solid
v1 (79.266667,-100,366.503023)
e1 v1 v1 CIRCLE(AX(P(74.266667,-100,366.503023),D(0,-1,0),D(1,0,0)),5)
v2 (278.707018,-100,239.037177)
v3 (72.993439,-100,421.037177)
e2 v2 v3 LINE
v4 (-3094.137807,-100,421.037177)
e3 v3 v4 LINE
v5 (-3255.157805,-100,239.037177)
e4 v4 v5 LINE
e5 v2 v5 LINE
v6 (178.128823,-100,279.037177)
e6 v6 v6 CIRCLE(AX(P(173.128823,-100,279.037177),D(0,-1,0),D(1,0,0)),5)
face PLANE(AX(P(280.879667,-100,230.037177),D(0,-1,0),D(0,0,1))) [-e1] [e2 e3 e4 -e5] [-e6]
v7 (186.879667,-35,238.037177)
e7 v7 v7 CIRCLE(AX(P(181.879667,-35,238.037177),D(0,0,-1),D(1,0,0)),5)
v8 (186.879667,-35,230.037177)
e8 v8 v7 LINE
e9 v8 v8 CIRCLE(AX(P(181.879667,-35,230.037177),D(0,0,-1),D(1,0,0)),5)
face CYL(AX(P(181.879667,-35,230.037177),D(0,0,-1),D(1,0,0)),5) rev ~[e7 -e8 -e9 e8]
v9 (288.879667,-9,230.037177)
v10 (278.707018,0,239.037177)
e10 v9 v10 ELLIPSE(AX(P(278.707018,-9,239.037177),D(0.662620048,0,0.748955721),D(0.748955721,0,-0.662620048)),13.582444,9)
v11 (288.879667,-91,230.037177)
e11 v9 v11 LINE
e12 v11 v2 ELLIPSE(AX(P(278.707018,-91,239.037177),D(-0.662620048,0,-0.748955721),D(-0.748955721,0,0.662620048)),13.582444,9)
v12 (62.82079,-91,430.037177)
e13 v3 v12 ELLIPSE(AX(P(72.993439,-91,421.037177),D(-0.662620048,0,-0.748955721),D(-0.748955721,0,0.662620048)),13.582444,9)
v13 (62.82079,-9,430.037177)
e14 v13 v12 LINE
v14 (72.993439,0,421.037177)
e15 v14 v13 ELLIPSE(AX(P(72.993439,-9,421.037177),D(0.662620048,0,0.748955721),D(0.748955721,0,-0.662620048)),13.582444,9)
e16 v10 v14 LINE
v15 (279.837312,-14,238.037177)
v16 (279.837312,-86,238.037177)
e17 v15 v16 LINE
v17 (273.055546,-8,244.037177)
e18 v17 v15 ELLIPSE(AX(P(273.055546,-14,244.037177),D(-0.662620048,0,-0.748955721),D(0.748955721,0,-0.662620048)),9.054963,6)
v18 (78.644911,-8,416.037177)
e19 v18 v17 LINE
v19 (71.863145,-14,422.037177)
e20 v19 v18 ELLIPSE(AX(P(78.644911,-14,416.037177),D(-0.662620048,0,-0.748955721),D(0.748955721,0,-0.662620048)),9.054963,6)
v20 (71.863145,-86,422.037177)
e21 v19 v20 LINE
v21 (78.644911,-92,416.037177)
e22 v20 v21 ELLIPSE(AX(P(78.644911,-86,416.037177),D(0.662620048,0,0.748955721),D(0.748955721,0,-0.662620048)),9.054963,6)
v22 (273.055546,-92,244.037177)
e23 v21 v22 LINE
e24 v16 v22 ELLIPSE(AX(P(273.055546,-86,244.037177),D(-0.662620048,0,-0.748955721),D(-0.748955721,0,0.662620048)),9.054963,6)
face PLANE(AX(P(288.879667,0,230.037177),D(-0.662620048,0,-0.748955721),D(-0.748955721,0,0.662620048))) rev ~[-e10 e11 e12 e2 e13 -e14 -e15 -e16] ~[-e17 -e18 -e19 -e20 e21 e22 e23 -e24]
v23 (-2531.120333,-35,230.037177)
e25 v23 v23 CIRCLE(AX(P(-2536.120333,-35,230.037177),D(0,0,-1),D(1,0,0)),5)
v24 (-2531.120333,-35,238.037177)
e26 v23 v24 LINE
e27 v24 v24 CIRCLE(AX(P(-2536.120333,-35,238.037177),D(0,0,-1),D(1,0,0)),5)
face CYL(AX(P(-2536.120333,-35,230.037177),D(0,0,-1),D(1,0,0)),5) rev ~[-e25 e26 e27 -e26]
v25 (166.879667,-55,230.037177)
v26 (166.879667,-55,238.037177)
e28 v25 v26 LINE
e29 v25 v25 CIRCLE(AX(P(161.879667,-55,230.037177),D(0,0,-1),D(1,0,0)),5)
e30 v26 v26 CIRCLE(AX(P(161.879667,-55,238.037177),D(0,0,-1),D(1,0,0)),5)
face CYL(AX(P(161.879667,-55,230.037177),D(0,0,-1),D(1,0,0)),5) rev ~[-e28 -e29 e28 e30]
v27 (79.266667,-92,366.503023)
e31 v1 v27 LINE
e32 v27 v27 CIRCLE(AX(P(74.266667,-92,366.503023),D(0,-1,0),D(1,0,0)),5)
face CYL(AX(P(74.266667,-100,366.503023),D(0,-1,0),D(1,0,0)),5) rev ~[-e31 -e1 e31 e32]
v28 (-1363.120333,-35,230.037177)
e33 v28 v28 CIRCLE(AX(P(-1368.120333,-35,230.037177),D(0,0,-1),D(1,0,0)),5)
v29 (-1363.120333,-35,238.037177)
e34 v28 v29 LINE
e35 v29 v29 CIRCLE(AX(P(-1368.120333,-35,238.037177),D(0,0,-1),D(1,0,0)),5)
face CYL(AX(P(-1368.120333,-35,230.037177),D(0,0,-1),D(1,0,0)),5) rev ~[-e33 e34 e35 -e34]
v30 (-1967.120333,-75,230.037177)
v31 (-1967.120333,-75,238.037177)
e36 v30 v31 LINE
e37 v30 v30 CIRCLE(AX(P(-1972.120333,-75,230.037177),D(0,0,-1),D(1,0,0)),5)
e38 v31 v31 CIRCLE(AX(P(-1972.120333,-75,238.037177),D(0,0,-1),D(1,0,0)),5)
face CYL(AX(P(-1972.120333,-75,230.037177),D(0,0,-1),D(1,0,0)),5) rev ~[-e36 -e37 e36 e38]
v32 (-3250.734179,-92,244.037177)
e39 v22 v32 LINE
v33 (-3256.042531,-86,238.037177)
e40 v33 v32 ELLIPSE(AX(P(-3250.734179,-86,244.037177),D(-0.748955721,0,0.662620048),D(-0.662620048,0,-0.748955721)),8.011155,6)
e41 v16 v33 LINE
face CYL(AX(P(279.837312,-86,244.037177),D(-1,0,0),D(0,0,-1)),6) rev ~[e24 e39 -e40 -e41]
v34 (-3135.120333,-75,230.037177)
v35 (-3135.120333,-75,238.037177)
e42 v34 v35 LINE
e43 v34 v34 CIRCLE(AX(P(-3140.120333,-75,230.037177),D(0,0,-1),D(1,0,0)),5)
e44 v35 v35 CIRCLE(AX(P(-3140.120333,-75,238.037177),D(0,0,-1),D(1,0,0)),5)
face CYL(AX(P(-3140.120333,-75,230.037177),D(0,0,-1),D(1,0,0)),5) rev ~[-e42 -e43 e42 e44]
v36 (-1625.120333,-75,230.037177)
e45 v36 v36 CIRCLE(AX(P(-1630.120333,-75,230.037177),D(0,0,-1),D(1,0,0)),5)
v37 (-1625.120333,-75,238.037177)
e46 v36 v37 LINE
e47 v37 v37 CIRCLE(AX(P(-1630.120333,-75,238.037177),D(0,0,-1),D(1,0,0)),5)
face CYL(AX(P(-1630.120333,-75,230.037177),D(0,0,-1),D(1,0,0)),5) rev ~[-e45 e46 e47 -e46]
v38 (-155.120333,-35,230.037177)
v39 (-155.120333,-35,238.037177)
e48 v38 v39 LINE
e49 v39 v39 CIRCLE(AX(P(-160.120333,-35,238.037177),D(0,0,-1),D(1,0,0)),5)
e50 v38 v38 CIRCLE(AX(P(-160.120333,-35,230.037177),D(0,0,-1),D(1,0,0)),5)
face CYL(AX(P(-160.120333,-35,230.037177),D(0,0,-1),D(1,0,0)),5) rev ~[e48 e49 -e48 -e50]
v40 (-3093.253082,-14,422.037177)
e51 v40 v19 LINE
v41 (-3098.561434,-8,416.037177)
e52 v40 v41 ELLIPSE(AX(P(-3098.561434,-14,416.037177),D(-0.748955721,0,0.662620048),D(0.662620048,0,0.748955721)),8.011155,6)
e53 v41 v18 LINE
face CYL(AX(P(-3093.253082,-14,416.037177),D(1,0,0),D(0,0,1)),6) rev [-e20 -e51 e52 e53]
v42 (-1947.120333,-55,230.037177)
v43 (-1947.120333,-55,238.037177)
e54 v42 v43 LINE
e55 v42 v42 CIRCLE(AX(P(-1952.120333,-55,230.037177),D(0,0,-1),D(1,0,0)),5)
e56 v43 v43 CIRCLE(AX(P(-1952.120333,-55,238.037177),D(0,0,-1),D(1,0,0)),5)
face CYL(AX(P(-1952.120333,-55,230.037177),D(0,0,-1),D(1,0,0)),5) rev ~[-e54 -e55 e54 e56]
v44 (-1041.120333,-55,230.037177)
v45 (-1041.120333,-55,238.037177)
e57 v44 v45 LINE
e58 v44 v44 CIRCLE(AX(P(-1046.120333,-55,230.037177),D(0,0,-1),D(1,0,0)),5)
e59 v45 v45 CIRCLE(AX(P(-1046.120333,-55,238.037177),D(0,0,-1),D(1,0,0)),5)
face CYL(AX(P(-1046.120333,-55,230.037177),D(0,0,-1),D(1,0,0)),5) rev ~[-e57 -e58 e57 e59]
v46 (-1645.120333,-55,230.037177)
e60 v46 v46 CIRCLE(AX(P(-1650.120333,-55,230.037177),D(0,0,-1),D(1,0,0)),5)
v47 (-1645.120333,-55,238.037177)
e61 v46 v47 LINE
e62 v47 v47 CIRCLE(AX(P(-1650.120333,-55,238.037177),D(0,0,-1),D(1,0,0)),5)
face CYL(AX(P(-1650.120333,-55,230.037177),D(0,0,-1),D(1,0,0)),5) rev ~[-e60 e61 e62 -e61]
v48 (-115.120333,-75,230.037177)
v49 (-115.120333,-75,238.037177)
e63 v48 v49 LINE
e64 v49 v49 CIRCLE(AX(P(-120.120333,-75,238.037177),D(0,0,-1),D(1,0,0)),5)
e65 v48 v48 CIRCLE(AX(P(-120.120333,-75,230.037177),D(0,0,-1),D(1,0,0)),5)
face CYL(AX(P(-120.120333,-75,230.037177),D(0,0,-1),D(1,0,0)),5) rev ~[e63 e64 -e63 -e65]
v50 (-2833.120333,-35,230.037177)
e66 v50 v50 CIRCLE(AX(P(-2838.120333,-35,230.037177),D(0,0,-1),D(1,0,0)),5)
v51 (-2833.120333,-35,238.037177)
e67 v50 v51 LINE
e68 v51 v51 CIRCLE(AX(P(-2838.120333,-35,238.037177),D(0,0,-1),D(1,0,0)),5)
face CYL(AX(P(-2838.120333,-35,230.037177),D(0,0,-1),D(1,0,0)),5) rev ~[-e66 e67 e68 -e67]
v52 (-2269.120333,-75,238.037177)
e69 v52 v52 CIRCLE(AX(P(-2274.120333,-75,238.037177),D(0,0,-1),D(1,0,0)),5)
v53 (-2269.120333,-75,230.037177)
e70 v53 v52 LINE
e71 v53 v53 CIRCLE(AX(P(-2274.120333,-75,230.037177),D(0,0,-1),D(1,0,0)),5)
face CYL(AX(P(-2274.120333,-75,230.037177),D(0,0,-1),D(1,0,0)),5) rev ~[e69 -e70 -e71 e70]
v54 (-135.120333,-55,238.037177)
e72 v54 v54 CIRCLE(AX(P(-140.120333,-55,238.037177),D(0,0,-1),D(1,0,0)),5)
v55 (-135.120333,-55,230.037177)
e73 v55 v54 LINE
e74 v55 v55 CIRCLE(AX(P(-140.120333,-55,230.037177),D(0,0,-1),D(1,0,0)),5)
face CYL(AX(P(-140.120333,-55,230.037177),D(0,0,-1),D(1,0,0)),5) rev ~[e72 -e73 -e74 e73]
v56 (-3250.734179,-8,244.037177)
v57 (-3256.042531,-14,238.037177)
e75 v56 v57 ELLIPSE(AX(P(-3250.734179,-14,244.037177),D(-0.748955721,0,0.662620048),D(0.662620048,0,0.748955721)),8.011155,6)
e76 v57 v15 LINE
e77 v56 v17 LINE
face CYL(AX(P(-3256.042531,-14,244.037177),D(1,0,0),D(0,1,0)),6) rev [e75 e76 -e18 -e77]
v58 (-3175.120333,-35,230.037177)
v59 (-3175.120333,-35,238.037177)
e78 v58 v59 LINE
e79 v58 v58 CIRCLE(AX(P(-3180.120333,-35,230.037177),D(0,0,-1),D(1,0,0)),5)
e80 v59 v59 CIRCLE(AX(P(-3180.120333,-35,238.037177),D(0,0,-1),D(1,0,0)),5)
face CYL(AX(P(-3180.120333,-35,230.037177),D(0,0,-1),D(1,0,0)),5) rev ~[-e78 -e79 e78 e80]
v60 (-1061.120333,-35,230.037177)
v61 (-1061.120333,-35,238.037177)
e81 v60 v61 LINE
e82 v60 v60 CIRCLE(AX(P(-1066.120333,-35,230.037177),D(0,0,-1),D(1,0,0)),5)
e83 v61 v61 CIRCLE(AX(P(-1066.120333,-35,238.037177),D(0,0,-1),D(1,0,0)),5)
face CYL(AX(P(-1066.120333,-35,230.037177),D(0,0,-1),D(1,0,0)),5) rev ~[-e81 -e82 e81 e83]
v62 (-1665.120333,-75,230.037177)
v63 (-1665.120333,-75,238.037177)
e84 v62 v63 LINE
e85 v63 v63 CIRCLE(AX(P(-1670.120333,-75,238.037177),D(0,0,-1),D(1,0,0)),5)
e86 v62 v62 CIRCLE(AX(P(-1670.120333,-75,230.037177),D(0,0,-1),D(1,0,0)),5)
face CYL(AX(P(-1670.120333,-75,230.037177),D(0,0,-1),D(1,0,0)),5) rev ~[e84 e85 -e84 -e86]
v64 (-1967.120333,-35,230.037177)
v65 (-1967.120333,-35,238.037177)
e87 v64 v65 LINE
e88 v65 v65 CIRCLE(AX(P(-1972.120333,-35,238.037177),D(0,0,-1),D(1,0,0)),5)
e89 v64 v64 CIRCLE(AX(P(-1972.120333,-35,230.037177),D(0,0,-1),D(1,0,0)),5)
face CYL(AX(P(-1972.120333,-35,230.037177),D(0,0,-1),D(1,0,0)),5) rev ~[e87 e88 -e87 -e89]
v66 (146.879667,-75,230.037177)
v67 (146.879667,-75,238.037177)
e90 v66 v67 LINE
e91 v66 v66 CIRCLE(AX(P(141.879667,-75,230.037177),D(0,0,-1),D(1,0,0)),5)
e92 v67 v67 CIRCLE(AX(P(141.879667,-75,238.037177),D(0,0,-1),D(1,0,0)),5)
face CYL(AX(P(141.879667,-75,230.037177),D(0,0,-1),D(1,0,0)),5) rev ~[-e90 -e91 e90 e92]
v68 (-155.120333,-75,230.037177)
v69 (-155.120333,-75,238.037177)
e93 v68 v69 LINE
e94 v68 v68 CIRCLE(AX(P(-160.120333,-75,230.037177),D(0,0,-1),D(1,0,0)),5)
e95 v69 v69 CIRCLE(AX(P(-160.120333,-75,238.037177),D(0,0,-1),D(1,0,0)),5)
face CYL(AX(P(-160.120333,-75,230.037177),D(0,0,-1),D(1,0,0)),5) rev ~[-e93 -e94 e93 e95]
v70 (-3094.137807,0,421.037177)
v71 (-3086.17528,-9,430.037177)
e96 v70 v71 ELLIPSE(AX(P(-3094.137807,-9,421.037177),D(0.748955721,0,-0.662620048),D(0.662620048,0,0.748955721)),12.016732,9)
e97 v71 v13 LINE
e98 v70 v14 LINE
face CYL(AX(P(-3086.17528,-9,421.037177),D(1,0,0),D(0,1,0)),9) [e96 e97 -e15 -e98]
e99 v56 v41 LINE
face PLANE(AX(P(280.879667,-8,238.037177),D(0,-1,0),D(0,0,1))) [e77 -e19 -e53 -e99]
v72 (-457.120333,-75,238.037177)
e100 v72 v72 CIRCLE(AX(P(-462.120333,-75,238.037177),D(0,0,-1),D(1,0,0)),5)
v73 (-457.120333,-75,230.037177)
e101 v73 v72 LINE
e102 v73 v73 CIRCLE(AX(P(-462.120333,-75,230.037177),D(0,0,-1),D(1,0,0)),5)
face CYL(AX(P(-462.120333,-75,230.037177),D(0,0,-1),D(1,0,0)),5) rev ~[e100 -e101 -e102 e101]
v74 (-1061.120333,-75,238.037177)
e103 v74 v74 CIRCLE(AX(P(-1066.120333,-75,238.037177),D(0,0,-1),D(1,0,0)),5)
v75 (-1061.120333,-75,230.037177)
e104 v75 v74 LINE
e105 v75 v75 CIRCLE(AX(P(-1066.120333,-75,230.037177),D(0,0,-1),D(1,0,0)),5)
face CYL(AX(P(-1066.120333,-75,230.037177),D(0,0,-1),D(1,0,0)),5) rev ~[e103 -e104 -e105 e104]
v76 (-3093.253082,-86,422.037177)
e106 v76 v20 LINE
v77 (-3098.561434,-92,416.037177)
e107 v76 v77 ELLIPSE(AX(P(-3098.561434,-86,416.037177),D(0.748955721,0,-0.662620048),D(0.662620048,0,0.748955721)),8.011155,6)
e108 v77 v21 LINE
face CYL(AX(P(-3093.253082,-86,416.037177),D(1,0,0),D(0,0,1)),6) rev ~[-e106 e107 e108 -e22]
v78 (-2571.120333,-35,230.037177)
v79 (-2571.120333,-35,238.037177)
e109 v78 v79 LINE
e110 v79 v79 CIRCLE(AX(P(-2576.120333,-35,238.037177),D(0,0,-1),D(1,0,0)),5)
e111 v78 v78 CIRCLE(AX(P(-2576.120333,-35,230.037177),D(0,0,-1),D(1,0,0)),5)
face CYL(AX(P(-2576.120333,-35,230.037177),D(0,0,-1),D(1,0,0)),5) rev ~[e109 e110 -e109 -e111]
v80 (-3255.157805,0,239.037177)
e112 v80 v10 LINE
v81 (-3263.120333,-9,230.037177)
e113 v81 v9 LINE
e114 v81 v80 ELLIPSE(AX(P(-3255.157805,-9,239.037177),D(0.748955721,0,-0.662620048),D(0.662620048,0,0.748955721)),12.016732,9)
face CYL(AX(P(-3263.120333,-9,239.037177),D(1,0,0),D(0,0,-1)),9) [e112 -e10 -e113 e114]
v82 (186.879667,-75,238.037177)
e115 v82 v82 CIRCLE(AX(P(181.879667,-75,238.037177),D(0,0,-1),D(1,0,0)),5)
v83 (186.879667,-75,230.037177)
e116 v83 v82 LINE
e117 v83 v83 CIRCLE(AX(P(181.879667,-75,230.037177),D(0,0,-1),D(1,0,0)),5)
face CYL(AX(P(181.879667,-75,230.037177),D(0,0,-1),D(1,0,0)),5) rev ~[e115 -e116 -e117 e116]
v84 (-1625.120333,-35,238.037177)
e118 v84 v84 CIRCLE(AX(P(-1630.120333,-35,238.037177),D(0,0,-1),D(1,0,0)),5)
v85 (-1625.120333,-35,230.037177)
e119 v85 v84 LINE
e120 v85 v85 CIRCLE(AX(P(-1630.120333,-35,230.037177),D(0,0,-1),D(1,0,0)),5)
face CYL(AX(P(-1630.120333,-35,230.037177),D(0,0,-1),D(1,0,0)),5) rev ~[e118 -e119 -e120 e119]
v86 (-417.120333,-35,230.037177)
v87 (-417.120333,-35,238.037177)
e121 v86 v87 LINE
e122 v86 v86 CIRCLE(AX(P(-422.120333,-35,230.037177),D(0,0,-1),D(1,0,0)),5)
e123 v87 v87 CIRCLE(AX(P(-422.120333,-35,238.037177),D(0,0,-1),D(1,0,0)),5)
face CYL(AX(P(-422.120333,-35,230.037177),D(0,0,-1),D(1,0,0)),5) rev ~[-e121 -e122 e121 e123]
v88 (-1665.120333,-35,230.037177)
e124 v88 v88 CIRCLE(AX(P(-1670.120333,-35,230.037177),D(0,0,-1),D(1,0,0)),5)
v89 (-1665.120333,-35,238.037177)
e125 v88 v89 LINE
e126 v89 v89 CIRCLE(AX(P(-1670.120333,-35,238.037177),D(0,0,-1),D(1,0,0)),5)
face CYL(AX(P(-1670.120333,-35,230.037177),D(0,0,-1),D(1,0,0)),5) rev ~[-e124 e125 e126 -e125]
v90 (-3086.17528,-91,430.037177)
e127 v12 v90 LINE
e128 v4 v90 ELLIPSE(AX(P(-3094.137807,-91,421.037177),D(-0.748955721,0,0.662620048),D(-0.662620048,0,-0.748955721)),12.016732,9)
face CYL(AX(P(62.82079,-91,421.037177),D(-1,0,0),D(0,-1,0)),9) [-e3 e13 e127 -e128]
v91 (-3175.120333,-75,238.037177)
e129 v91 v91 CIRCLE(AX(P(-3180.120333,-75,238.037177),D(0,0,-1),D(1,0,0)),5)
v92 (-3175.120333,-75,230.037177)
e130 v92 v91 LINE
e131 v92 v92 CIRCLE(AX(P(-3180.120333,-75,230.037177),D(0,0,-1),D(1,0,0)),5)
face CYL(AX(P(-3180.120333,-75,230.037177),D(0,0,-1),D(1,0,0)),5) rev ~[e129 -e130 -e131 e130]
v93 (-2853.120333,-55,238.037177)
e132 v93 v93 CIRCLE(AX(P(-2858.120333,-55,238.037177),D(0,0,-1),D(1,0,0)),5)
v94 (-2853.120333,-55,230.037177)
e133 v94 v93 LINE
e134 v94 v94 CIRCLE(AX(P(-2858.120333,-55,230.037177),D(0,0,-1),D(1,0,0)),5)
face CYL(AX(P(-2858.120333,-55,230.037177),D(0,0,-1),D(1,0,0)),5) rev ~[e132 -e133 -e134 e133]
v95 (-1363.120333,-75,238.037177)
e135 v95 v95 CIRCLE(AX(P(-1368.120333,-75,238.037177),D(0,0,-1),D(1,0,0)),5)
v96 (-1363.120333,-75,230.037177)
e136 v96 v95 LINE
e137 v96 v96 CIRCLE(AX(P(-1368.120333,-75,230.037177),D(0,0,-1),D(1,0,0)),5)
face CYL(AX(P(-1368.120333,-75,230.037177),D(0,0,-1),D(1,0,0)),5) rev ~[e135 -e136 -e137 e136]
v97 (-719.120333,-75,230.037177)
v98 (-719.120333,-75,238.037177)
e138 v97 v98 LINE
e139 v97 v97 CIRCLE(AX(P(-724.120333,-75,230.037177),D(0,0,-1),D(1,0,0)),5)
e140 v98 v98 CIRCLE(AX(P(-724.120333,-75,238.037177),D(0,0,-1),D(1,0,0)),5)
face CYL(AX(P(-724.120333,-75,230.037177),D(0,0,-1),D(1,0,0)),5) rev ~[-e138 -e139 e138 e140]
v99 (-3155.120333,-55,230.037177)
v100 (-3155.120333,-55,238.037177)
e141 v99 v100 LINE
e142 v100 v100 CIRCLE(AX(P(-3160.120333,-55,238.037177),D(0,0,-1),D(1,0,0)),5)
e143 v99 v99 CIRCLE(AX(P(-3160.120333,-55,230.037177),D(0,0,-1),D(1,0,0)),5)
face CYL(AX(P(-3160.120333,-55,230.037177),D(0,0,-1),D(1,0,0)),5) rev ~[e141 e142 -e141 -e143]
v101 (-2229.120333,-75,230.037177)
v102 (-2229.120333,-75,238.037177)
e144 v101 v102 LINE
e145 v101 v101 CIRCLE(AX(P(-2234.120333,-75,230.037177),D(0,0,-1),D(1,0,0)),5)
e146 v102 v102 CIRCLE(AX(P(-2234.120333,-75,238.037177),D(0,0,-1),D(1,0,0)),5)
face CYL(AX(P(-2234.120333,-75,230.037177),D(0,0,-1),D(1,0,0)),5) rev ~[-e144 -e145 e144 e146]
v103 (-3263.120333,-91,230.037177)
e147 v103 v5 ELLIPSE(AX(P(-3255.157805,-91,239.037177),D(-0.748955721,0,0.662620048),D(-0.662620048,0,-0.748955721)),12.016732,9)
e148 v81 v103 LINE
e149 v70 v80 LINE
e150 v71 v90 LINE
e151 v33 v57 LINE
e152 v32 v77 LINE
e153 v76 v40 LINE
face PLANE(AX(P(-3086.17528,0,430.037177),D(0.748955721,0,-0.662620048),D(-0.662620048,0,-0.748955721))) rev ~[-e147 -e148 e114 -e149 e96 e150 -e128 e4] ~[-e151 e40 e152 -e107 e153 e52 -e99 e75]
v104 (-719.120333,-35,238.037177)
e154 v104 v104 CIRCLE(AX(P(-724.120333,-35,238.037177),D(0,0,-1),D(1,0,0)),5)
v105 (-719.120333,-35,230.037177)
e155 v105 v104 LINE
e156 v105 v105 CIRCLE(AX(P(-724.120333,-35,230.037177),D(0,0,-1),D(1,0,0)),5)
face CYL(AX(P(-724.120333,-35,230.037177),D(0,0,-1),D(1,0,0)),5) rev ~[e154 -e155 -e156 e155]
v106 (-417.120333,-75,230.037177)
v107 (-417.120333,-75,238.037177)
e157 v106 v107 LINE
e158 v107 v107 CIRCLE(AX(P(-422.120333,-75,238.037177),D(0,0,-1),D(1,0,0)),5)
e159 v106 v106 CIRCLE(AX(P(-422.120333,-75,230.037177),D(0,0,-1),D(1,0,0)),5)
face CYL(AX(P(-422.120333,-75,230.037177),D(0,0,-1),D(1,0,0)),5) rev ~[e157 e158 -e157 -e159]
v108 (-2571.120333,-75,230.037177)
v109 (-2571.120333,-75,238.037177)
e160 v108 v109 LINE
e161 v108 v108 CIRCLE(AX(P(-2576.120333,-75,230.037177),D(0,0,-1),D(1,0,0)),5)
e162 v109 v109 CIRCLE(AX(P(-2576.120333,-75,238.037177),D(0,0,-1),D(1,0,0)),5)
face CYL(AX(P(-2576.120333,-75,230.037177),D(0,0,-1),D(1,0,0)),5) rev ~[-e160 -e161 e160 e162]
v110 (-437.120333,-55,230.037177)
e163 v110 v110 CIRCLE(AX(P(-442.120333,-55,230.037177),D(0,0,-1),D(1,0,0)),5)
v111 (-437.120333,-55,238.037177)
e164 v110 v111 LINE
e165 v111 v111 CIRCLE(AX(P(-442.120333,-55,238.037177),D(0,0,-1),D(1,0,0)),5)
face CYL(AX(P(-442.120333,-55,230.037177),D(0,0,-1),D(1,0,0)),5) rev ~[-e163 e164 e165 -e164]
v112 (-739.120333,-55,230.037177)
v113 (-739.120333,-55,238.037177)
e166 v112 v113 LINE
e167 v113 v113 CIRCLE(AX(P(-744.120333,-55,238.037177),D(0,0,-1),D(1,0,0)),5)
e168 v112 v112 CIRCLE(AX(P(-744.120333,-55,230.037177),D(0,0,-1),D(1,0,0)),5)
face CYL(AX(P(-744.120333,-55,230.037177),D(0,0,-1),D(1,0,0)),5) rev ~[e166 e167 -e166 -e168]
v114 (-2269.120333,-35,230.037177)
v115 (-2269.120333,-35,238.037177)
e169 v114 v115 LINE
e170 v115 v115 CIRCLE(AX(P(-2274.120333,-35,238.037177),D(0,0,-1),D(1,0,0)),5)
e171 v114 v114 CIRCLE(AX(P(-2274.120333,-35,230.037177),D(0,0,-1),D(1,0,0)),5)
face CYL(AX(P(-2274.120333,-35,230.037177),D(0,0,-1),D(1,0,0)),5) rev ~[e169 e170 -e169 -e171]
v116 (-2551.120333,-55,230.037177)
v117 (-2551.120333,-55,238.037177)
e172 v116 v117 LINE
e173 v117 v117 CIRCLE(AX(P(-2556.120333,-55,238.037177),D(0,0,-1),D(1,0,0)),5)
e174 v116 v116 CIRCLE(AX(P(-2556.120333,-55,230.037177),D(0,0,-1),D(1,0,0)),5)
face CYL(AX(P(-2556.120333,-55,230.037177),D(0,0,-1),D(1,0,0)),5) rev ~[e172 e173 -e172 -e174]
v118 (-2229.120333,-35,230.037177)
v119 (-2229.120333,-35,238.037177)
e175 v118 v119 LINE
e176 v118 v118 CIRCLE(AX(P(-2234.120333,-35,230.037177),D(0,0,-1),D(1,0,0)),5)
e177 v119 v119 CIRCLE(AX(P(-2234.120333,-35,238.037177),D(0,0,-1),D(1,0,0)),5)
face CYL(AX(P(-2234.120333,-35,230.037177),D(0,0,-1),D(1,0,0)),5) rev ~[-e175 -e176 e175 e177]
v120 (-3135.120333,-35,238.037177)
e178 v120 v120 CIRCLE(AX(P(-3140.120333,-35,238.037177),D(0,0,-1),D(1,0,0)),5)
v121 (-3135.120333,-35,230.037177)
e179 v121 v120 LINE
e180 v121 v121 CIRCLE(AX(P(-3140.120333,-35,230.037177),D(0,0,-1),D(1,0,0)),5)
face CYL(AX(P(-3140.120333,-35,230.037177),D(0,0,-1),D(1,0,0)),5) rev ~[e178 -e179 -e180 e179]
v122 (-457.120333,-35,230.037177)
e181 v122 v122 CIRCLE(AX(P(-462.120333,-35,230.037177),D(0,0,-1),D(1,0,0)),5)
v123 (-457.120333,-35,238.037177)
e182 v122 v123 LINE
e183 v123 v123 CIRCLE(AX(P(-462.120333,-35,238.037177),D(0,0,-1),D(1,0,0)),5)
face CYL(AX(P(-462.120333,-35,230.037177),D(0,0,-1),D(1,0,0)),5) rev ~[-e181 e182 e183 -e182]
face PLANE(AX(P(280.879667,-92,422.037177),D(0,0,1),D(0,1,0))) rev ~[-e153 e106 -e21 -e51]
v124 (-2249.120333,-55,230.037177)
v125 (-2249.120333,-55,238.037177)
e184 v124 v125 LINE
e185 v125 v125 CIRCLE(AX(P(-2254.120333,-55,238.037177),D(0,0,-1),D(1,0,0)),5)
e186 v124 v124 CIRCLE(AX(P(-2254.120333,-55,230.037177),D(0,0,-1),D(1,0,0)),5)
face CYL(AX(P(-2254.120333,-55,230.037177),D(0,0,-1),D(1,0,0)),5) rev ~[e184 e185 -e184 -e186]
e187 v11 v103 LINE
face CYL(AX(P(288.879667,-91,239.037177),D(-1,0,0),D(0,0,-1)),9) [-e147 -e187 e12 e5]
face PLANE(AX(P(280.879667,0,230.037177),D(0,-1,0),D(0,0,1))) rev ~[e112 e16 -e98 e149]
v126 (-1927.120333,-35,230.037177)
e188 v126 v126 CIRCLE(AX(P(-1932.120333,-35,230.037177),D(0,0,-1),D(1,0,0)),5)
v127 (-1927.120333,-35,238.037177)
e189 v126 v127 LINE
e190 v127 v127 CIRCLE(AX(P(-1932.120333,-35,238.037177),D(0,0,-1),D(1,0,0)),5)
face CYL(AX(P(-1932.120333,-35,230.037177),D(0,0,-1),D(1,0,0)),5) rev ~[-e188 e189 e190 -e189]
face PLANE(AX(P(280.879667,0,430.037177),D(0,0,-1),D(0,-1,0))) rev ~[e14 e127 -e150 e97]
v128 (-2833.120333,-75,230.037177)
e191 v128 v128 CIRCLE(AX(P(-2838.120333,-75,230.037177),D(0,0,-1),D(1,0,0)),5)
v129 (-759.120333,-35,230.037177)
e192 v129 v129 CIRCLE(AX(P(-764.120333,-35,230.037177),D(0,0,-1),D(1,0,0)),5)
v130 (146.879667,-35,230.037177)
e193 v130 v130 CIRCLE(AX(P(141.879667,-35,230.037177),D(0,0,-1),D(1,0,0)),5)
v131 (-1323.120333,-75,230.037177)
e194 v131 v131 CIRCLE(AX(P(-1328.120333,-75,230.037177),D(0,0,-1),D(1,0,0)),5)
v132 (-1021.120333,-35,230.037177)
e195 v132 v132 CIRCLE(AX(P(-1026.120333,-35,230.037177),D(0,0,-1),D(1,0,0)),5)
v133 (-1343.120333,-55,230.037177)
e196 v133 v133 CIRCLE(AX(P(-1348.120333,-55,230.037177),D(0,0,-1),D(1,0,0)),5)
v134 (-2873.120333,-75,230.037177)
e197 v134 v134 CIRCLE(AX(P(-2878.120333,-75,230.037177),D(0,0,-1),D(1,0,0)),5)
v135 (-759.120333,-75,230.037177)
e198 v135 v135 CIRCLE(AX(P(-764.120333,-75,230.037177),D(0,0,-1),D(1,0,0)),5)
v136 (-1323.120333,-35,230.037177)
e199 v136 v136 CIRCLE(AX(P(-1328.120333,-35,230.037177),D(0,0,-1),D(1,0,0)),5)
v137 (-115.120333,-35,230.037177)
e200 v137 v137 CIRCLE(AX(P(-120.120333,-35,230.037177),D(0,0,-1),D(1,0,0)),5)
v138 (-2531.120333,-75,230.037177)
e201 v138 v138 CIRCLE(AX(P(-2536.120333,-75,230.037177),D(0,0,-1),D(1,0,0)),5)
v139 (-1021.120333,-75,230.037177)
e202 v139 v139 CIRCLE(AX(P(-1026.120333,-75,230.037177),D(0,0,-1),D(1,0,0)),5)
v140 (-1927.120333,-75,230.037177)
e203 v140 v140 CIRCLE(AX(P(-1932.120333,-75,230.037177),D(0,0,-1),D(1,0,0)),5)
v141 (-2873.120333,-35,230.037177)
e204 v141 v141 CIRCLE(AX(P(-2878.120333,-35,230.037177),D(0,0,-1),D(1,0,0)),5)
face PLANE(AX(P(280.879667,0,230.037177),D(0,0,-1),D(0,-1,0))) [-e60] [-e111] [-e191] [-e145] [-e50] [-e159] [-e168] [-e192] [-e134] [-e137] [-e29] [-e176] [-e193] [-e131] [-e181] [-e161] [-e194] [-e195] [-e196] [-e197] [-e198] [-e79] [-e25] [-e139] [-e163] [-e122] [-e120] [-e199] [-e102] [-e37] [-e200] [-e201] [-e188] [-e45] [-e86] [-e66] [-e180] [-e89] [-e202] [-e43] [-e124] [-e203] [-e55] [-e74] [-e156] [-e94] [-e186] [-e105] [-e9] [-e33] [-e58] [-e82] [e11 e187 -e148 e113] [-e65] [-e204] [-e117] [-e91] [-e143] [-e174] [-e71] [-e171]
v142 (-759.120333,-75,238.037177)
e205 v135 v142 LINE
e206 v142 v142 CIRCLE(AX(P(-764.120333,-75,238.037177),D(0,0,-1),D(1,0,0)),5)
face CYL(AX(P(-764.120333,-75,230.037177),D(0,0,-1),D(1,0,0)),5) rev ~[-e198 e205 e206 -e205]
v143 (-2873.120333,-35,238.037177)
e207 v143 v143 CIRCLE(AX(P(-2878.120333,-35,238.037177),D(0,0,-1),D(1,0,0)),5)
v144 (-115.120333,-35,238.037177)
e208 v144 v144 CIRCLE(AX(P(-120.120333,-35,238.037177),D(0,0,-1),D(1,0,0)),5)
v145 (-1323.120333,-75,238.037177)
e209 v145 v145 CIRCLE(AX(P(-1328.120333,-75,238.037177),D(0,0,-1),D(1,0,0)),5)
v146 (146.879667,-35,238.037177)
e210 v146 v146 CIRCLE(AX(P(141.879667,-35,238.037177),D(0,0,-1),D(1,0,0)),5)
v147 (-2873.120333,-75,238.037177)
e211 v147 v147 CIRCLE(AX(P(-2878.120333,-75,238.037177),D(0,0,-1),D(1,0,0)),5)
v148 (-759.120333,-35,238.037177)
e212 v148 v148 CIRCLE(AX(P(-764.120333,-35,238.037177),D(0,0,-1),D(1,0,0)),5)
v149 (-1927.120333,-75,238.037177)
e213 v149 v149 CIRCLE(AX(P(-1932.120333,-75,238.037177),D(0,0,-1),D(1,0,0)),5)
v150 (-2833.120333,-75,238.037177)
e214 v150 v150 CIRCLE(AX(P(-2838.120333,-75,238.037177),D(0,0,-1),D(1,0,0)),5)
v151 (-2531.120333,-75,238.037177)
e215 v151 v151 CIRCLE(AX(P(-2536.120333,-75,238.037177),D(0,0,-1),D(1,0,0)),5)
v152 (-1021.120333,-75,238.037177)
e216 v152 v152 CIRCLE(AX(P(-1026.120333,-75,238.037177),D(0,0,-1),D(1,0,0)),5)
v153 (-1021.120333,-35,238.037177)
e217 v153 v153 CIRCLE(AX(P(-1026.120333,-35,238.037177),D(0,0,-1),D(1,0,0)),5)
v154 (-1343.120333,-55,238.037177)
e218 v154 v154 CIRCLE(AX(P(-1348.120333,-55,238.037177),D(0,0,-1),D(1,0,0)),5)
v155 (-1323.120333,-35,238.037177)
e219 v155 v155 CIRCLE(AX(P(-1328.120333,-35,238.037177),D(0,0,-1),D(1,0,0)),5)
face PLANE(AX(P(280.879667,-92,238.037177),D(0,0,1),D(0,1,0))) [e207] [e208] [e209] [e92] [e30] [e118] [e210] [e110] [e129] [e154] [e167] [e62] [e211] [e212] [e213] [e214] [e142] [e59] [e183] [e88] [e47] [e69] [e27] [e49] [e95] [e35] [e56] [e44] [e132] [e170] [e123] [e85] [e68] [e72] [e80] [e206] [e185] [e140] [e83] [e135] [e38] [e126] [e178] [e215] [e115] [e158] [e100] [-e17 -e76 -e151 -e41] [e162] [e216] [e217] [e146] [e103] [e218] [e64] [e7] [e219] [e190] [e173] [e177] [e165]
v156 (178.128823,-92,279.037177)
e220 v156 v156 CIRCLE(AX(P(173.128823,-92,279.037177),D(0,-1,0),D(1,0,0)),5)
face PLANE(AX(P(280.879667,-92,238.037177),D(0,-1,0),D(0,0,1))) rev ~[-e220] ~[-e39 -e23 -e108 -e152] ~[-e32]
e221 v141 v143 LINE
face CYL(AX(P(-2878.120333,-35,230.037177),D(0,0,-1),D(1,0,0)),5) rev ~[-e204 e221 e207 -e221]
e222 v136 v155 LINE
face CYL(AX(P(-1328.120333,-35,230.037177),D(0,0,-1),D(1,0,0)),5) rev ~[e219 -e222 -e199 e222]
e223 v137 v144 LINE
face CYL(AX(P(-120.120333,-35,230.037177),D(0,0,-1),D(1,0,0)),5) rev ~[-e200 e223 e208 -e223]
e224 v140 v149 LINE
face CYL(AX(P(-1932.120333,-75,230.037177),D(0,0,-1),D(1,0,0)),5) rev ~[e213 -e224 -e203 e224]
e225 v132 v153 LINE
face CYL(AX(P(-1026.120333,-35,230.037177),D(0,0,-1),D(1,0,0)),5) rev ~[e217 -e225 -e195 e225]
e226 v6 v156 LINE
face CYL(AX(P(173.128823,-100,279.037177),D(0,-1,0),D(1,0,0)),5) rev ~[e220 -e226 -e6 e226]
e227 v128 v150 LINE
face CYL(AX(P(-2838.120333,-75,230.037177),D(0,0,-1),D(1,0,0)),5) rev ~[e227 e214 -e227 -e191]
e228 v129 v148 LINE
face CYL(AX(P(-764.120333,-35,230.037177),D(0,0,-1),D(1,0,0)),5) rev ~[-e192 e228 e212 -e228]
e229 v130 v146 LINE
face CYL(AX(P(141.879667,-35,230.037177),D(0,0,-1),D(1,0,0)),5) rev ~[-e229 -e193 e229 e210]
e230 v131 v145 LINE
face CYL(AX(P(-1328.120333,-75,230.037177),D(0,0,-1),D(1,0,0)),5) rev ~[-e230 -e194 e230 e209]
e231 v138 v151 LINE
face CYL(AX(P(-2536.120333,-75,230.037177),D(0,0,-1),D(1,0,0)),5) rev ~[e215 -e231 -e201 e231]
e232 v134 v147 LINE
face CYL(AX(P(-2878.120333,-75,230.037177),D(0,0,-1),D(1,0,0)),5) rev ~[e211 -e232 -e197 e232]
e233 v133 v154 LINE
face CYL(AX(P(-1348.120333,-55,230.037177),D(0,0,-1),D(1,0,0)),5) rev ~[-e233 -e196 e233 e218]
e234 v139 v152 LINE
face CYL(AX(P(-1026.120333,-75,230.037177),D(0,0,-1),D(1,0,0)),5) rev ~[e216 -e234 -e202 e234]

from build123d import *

# Parameters (mm, degrees)
F0_W      = 3544
F0_H      = 200
F1_DEPTH  = 100
F2_W      = 84
F2_H      = 184
F3_DEPTH  = 3550
F5_DEPTH  = 8
F6_R      = 5
F7_DEPTH  = 8
F9_DEPTH  = 100
F10_DEPTH = 100
F11_R     = 9
F12_R     = 6
F13_R     = 5
F14_DEPTH = 25


with BuildPart() as f1:
    # F0 (on Front) → F1 (new body)
    with BuildSketch(Plane.XZ):
        with Locations((-1491.1203327179, 330.0371766059)):
            Rectangle(F0_W, F0_H)
    extrude(amount=F1_DEPTH)

    # F2 (on face) → F3 (cut)
    with BuildSketch(Plane.YZ.offset(280.8796672821)):
        with Locations((-50, 330.0371766059)):
            Rectangle(F2_W, F2_H)
    extrude(amount=-F3_DEPTH, mode=Mode.SUBTRACT)

    # F5 (add): a face of the model
    f5_faces = [f1.faces().sort_by_distance(p)[0] for p in [
        (280.8796672821, -50, 232.2732445834),
    ]]
    extrude(f5_faces, amount=F5_DEPTH)

    # F6 (on face) → F7 (cut)
    with BuildSketch(Plane(origin=(0, 0, 230.0371766059), x_dir=(1, 0, 0), z_dir=(0, 0, -1))):
        with Locations((-3180.1203327179, 75)):
            Circle(F6_R)
        with Locations((-3140.1203327179, 75)):
            Circle(F6_R)
        with Locations((-3160.1203327179, 55)):
            Circle(F6_R)
        with Locations((-3180.1203327179, 35)):
            Circle(F6_R)
        with Locations((-3140.1203327179, 35)):
            Circle(F6_R)
        with Locations((-2878.1203327179, 75)):
            Circle(F6_R)
        with Locations((-2838.1203327179, 75)):
            Circle(F6_R)
        with Locations((-2858.1203327179, 55)):
            Circle(F6_R)
        with Locations((-2878.1203327179, 35)):
            Circle(F6_R)
        with Locations((-2838.1203327179, 35)):
            Circle(F6_R)
        with Locations((-2576.1203327179, 75)):
            Circle(F6_R)
        with Locations((-2536.1203327179, 75)):
            Circle(F6_R)
        with Locations((-2556.1203327179, 55)):
            Circle(F6_R)
        with Locations((-2576.1203327179, 35)):
            Circle(F6_R)
        with Locations((-2536.1203327179, 35)):
            Circle(F6_R)
        with Locations((-2274.1203327179, 75)):
            Circle(F6_R)
        with Locations((-2234.1203327179, 75)):
            Circle(F6_R)
        with Locations((-2254.1203327179, 55)):
            Circle(F6_R)
        with Locations((-2274.1203327179, 35)):
            Circle(F6_R)
        with Locations((-2234.1203327179, 35)):
            Circle(F6_R)
        with Locations((-1972.1203327179, 75)):
            Circle(F6_R)
        with Locations((-1932.1203327179, 75)):
            Circle(F6_R)
        with Locations((-1952.1203327179, 55)):
            Circle(F6_R)
        with Locations((-1972.1203327179, 35)):
            Circle(F6_R)
        with Locations((-1932.1203327179, 35)):
            Circle(F6_R)
        with Locations((-1670.1203327179, 75)):
            Circle(F6_R)
        with Locations((-1630.1203327179, 75)):
            Circle(F6_R)
        with Locations((-1650.1203327179, 55)):
            Circle(F6_R)
        with Locations((-1670.1203327179, 35)):
            Circle(F6_R)
        with Locations((-1630.1203327179, 35)):
            Circle(F6_R)
        with Locations((-1368.1203327179, 75)):
            Circle(F6_R)
        with Locations((-1328.1203327179, 75)):
            Circle(F6_R)
        with Locations((-1348.1203327179, 55)):
            Circle(F6_R)
        with Locations((-1368.1203327179, 35)):
            Circle(F6_R)
        with Locations((-1328.1203327179, 35)):
            Circle(F6_R)
        with Locations((-1066.1203327179, 75)):
            Circle(F6_R)
        with Locations((-1026.1203327179, 75)):
            Circle(F6_R)
        with Locations((-1046.1203327179, 55)):
            Circle(F6_R)
        with Locations((-1066.1203327179, 35)):
            Circle(F6_R)
        with Locations((-1026.1203327179, 35)):
            Circle(F6_R)
        with Locations((-764.1203327179, 75)):
            Circle(F6_R)
        with Locations((-724.1203327179, 75)):
            Circle(F6_R)
        with Locations((-744.1203327179, 55)):
            Circle(F6_R)
        with Locations((-764.1203327179, 35)):
            Circle(F6_R)
        with Locations((-724.1203327179, 35)):
            Circle(F6_R)
        with Locations((-160.1203327179, 75)):
            Circle(F6_R)
        with Locations((-120.1203327179, 75)):
            Circle(F6_R)
        with Locations((-140.1203327179, 55)):
            Circle(F6_R)
        with Locations((-160.1203327179, 35)):
            Circle(F6_R)
        with Locations((-120.1203327179, 35)):
            Circle(F6_R)
        with Locations((141.8796672821, 75)):
            Circle(F6_R)
        with Locations((181.8796672821, 75)):
            Circle(F6_R)
        with Locations((161.8796672821, 55)):
            Circle(F6_R)
        with Locations((141.8796672821, 35)):
            Circle(F6_R)
        with Locations((181.8796672821, 35)):
            Circle(F6_R)
        with Locations((-462.1203327179, 75)):
            Circle(F6_R)
        with Locations((-422.1203327179, 75)):
            Circle(F6_R)
        with Locations((-442.1203327179, 55)):
            Circle(F6_R)
        with Locations((-462.1203327179, 35)):
            Circle(F6_R)
        with Locations((-422.1203327179, 35)):
            Circle(F6_R)
    extrude(amount=-F7_DEPTH, mode=Mode.SUBTRACT)

    # F8 (on face) → F9 (cut)
    with BuildSketch(Plane(origin=(0, 0, 0), x_dir=(-1, 0, 0), z_dir=(0, 1, 0))):
        Polygon((-288.8796672821, 230.0371766059), (-62.8207900098, 430.0371766059), (-288.8796672821, 430.0371766059), align=None)
    extrude(amount=-F9_DEPTH, mode=Mode.SUBTRACT)

    # F8 (on face) → F10 (cut)
    with BuildSketch(Plane(origin=(0, 0, 0), x_dir=(-1, 0, 0), z_dir=(0, 1, 0))):
        Polygon((3263.1203327179, 430.0371766059), (3086.1752798067, 430.0371766059), (3263.1203327179, 230.0371766059), align=None)
    extrude(amount=-F10_DEPTH, mode=Mode.SUBTRACT)

    # F11
    f11_edges = [f1.edges().sort_by_distance(p)[0] for p in [
        (-1487.120333, 0, 230.037177),
        (-1487.120333, -100, 230.037177),
        (-1511.677245, -100, 430.037177),
        (-1511.677245, 0, 430.037177),
    ]]
    fillet(f11_edges, radius=F11_R)

    # F12
    f12_edges = [f1.edges().sort_by_distance(p)[0] for p in [
        (-1488.102609, -92, 238.037177),
        (-1488.102609, -8, 238.037177),
        (-1510.694968, -8, 422.037177),
        (-1510.694968, -92, 422.037177),
    ]]
    fillet(f12_edges, radius=F12_R)

    # F13 (on face) → F14 (cut)
    with BuildSketch(Plane.XZ.offset(100)):
        with Locations((173.1288225481, 279.0371766059)):
            Circle(F13_R)
        with Locations((74.2666674039, 366.5030229704)):
            Circle(F13_R)
    extrude(amount=-F14_DEPTH, mode=Mode.SUBTRACT)


solid = f1.part
